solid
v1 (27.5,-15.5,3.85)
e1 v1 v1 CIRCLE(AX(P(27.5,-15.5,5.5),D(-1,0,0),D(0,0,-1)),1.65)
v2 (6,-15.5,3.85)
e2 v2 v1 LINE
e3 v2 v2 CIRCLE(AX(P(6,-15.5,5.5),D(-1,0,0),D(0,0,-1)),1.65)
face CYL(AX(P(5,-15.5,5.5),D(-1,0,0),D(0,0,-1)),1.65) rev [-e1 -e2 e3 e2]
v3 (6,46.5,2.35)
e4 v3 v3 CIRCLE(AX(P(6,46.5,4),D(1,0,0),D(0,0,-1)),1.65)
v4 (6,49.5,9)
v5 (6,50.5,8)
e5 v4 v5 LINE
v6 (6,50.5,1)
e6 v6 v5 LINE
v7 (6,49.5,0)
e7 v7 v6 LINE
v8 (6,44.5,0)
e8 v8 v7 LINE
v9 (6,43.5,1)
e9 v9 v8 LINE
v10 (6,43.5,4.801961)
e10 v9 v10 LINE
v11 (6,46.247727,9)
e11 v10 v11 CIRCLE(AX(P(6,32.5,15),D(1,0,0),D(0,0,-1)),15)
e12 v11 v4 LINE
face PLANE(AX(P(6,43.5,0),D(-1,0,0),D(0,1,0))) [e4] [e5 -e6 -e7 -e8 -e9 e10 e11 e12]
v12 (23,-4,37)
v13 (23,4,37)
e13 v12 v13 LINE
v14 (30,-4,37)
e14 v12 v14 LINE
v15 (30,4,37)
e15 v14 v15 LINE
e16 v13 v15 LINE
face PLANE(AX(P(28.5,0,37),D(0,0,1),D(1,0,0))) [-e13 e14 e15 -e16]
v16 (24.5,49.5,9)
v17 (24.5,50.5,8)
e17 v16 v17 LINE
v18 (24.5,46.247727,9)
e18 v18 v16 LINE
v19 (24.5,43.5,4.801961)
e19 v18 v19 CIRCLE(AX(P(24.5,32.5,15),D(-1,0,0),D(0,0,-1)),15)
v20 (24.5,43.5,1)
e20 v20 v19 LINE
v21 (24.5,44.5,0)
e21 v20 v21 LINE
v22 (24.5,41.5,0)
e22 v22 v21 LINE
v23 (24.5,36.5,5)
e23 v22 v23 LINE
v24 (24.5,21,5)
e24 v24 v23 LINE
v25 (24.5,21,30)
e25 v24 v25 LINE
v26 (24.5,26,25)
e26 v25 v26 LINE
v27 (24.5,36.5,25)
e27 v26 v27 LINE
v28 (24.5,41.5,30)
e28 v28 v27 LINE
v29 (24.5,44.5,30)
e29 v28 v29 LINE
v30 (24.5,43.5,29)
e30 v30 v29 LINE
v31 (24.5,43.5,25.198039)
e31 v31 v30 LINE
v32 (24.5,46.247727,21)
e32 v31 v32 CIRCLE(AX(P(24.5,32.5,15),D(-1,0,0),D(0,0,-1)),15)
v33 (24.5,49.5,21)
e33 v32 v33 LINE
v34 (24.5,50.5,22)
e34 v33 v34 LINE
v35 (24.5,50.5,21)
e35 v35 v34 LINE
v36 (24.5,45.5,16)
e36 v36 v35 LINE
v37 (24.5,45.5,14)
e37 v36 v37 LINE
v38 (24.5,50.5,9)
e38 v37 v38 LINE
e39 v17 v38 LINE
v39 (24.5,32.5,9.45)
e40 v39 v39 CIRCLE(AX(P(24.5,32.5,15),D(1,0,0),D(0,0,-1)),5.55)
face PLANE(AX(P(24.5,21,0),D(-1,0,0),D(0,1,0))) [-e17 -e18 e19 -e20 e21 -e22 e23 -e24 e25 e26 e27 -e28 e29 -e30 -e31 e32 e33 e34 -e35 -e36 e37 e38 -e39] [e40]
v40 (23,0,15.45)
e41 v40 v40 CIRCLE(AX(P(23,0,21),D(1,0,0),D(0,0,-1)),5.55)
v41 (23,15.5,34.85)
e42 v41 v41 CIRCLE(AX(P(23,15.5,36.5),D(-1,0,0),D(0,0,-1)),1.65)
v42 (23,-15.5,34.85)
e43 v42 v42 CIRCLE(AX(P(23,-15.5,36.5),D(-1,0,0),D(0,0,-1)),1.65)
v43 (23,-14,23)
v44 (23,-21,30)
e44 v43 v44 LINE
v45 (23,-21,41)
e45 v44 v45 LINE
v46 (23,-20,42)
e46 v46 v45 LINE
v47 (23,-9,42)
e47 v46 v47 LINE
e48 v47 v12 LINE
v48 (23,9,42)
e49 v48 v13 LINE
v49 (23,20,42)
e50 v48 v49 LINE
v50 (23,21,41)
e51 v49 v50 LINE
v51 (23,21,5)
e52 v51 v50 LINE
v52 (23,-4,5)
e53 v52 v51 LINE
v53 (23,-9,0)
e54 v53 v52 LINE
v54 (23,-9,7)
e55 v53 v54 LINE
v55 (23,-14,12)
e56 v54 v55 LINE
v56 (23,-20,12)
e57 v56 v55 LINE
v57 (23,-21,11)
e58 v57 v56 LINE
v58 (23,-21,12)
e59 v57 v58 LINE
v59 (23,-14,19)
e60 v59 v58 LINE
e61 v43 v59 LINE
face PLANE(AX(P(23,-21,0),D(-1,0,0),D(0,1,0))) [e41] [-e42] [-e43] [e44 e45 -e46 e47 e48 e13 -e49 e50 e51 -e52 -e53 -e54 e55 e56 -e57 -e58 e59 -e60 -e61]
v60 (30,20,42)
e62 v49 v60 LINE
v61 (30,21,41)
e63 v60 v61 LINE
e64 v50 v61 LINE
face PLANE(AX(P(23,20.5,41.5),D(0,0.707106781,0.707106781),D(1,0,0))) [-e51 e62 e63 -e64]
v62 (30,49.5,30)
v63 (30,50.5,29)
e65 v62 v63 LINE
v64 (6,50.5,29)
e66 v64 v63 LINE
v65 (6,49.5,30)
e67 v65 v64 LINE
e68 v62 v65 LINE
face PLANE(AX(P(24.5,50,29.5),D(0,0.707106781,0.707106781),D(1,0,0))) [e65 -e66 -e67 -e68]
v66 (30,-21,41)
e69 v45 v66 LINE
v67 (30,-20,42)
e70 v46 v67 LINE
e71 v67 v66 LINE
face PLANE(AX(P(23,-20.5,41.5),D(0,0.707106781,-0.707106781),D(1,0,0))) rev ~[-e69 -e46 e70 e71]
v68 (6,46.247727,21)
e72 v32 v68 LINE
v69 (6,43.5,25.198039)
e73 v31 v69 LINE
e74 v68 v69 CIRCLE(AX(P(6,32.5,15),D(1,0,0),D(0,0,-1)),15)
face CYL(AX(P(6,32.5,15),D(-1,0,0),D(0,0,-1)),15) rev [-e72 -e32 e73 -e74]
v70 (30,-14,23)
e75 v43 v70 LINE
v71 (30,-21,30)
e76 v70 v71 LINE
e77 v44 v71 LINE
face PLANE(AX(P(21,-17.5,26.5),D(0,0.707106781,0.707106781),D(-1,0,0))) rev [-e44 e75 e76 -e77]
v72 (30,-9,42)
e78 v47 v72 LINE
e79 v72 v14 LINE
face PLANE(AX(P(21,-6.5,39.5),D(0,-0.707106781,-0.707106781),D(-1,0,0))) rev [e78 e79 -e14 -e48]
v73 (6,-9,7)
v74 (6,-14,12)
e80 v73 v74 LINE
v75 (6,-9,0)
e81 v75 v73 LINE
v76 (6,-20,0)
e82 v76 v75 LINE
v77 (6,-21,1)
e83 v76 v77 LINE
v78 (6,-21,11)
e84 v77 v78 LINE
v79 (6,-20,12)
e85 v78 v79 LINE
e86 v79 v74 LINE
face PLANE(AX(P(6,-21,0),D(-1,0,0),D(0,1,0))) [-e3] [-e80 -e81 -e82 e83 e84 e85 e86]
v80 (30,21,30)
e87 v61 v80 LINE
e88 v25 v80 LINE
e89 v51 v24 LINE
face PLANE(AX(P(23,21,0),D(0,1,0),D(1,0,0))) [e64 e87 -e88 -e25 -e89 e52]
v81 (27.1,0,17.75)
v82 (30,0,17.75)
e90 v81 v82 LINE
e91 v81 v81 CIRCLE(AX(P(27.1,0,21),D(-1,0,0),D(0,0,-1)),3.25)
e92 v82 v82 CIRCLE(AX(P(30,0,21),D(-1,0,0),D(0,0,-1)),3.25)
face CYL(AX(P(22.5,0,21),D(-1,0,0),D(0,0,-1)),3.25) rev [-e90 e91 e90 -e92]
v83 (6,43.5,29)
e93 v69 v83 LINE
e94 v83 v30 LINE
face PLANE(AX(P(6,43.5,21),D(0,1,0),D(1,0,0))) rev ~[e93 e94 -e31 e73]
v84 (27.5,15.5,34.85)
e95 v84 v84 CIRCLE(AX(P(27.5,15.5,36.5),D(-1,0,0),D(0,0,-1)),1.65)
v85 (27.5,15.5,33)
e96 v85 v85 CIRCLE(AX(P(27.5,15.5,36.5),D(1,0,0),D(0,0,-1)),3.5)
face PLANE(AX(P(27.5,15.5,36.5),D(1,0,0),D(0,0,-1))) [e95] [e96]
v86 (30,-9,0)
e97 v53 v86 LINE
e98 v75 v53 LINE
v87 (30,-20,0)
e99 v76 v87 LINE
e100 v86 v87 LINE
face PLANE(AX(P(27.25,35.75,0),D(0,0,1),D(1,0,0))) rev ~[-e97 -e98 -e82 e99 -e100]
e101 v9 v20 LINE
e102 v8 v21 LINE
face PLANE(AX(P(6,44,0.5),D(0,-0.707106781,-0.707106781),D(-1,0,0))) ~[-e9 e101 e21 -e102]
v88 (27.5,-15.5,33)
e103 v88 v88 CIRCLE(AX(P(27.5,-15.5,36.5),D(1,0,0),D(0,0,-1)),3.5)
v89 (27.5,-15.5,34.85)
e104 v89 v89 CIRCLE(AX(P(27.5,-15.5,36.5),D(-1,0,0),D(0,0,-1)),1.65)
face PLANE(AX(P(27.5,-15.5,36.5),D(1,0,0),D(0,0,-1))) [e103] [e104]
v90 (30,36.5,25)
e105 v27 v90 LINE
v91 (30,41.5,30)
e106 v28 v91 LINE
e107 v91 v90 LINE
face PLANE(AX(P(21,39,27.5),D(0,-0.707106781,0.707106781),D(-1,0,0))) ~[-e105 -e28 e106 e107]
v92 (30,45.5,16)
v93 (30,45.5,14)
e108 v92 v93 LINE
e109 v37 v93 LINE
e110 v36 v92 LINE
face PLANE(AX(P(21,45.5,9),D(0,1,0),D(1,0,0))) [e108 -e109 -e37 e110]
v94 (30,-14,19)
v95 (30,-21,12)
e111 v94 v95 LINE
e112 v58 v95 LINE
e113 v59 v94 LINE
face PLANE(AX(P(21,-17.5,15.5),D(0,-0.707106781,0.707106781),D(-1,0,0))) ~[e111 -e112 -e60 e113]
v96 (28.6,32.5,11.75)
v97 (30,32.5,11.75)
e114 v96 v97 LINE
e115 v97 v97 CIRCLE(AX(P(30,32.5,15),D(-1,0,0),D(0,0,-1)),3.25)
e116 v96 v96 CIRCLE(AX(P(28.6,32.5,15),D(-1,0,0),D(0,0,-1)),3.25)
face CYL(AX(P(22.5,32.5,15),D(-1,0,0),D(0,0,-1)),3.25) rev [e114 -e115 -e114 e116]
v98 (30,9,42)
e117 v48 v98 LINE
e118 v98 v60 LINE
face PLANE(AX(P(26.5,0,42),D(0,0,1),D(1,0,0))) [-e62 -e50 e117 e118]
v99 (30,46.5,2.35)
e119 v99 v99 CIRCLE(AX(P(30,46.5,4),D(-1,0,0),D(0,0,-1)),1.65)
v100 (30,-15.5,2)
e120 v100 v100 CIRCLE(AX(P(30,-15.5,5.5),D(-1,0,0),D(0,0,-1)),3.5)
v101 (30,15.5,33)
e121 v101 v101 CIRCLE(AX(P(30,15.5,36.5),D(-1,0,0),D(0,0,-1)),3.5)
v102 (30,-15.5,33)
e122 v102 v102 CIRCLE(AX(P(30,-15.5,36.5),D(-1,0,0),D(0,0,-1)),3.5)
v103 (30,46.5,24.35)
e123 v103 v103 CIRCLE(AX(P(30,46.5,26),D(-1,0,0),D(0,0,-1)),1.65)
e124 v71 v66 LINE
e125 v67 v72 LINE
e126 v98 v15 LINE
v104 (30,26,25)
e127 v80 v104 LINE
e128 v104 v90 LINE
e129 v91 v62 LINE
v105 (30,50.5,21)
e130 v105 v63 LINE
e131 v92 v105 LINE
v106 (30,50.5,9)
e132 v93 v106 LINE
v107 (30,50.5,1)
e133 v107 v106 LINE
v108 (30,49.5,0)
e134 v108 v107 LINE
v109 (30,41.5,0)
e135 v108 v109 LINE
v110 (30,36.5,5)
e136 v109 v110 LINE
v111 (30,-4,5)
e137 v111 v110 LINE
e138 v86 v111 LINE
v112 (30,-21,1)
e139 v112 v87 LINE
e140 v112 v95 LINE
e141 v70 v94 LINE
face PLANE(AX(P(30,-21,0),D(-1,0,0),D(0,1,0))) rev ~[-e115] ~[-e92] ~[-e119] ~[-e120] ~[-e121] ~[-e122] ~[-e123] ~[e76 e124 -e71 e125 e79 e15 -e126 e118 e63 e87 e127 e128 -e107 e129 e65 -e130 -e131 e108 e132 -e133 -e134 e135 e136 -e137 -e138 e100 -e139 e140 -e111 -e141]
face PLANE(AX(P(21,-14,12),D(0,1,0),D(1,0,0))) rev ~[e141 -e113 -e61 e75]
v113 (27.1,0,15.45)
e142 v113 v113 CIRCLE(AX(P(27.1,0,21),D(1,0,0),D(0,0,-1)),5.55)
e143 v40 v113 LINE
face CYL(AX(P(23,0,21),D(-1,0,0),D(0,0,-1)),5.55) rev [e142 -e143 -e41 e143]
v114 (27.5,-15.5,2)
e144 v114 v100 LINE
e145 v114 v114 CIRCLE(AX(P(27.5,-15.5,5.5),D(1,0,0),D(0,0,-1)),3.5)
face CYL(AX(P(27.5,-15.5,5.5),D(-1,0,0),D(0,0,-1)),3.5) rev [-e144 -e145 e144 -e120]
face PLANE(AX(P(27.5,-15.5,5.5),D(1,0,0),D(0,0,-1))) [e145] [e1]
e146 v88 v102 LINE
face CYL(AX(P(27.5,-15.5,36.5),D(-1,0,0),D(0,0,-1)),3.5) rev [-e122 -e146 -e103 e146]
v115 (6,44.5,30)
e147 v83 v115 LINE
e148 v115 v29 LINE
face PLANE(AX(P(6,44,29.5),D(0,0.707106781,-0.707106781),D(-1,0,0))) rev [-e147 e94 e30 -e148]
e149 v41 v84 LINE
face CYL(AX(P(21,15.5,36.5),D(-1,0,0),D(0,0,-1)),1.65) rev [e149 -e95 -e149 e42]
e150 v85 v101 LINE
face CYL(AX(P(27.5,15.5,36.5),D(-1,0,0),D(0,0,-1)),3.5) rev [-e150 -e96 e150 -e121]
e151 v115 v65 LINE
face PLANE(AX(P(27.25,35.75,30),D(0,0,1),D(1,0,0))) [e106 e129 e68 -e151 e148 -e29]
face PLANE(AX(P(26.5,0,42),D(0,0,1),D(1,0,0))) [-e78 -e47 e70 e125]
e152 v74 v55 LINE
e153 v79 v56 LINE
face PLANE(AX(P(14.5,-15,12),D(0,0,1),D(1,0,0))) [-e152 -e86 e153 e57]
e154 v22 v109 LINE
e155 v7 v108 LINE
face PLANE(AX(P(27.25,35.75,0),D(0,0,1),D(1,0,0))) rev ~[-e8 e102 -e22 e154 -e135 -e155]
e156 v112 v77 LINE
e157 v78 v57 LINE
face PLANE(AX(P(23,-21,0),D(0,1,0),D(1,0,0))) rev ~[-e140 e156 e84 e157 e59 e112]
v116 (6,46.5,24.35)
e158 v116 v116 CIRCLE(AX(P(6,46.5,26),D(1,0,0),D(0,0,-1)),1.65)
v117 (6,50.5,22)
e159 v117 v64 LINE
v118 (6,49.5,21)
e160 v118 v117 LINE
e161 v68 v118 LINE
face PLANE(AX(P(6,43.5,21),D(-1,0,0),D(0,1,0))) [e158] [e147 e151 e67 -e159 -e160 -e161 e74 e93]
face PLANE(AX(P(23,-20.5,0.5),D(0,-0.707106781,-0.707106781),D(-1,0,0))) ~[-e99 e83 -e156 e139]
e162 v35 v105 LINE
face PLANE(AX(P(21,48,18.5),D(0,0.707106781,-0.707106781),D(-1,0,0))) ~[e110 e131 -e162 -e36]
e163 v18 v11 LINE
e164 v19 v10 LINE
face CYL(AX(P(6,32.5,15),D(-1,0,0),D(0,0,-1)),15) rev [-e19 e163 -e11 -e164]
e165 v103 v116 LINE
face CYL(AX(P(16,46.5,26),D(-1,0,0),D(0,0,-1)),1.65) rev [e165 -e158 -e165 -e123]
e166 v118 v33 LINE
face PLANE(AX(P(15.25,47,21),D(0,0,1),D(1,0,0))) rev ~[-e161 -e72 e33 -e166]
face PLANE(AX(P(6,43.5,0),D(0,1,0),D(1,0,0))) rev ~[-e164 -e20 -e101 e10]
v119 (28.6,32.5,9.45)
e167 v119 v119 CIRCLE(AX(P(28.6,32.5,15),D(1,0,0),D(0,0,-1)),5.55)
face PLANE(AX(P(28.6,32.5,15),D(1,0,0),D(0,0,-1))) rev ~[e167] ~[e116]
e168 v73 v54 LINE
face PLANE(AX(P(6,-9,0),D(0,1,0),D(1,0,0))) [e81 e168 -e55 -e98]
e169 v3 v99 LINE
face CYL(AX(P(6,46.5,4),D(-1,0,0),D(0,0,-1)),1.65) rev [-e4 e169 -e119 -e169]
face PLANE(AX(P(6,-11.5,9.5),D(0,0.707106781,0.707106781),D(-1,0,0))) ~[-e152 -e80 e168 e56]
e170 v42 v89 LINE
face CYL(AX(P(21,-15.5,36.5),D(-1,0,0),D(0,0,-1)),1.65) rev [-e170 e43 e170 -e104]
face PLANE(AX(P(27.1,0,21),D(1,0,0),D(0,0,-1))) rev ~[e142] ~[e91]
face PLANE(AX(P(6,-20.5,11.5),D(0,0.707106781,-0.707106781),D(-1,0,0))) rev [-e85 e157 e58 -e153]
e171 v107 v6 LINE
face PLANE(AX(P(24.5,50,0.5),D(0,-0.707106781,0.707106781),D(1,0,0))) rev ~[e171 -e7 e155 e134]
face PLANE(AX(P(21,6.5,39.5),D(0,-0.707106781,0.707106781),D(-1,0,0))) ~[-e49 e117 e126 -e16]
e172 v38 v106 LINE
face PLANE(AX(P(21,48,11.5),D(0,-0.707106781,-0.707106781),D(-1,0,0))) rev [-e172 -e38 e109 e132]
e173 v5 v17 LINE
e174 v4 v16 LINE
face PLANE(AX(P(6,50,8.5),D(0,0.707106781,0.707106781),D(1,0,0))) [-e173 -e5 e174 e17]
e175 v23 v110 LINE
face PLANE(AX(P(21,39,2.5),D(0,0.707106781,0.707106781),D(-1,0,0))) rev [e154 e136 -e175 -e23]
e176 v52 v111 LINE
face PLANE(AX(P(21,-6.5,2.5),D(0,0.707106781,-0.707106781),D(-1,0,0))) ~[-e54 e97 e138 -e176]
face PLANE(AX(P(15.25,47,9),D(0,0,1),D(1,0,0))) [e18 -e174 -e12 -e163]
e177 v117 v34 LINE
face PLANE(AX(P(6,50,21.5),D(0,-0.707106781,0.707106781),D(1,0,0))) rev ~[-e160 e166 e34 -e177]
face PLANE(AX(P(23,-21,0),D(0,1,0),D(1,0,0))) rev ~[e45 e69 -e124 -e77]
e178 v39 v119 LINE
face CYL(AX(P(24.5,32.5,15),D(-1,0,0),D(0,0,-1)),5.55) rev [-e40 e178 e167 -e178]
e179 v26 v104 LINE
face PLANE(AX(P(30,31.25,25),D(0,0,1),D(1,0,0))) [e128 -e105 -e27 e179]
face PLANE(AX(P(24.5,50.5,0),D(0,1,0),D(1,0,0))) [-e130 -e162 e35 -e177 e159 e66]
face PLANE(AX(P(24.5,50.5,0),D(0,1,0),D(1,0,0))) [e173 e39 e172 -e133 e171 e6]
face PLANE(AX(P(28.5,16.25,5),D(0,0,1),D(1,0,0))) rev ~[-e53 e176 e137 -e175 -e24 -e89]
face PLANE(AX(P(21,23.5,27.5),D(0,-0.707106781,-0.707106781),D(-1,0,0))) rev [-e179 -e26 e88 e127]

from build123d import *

# Parameters (mm, degrees)
CYLINDER011034_R         = 3.25
CYLINDER011034_DEPTH     = 10
CYLINDER011035_R         = 3.25
CYLINDER011035_DEPTH     = 10
CYLINDER011027_R         = 1.65
CYLINDER011027_DEPTH     = 31
CYLINDER011024_R         = 1.65
CYLINDER011024_DEPTH     = 10
CYLINDER011023_R         = 1.65
CYLINDER011023_DEPTH     = 10
CYLINDER011028_R         = 1.65
CYLINDER011028_DEPTH     = 20
CYLINDER011029_R         = 1.65
CYLINDER011029_DEPTH     = 20
CYLINDER011033_R         = 5.55
CYLINDER011033_DEPTH     = 4.1
CYLINDER011032_R         = 5.55
CYLINDER011032_DEPTH     = 4.1
CYLINDER011021_R         = 3.5
CYLINDER011021_DEPTH     = 10
CYLINDER011022_R         = 3.5
CYLINDER011022_DEPTH     = 10
CYLINDER011025_R         = 3.5
CYLINDER011025_DEPTH     = 10
CYLINDER011062_R         = 15
CYLINDER011062_DEPTH     = 22
CYLINDER011061_R         = 1.65
CYLINDER011061_DEPTH     = 18
CYLINDER011058_R         = 1.65
CYLINDER011058_DEPTH     = 18
BOX037_W                 = 18.5
BOX037_H                 = 7
BOX037_DEPTH             = 9
BOX038_W                 = 18.5
BOX038_H                 = 7
BOX038_DEPTH             = 9
CHAMFER024015_SIZE       = 1
BOX022_W                 = 15
BOX022_H                 = 50.5
BOX022_DEPTH             = 10
CHAMFER_SIZE             = 5
BOX023_W                 = 15
BOX023_H                 = 18
BOX023_DEPTH             = 10
CHAMFER016_SIZE          = 5
BOX024_W                 = 18
BOX024_H                 = 20.5
BOX024_DEPTH             = 10
CHAMFER024014_SIZE       = 5
BOX020_W                 = 15
BOX020_H                 = 9
BOX020_DEPTH             = 12
CHAMFER018_SIZE          = 5
BOX021_W                 = 10
BOX021_H                 = 10
BOX021_DEPTH             = 18
CHAMFER017_SIZE          = 7
BOX010_W                 = 5.5
BOX010_H                 = 29.5
BOX010_DEPTH             = 30
BOX009_W                 = 7
BOX009_H                 = 42
BOX009_DEPTH             = 42
CHAMFER024018_SIZE       = 1
BOX018_W                 = 17
BOX018_H                 = 12
BOX018_DEPTH             = 12
CHAMFER024016_SIZE       = 5
CHAMFER024017_SIZE       = 1
CHAMFER024034004007_SIZE = 1


with BuildPart() as cylinder011034:
    # Cylinder011034 → Cylinder011034 (new body)
    with BuildSketch(Plane(origin=(22.5, 32.5, 15), x_dir=(0, 0, -1), z_dir=(1, 0, 0))):
        Circle(CYLINDER011034_R)
    extrude(amount=CYLINDER011034_DEPTH)


with BuildPart() as fusion006002011004053008:
    # Cylinder011035 → Cylinder011035 (new body)
    with BuildSketch(Plane(origin=(22.5, 0, 21), x_dir=(0, 0, -1), z_dir=(1, 0, 0))):
        Circle(CYLINDER011035_R)
    extrude(amount=CYLINDER011035_DEPTH)

    # Fusion006002011004053008: union Cylinder011034
    add(cylinder011034.part)


with BuildPart() as cylinder011027:
    # Cylinder011027 → Cylinder011027 (new body)
    with BuildSketch(Plane(origin=(5, -15.5, 5.5), x_dir=(0, 0, -1), z_dir=(1, 0, 0))):
        Circle(CYLINDER011027_R)
    extrude(amount=CYLINDER011027_DEPTH)


with BuildPart() as cylinder011024:
    # Cylinder011024 → Cylinder011024 (new body)
    with BuildSketch(Plane(origin=(21, 15.5, 36.5), x_dir=(0, 0, -1), z_dir=(1, 0, 0))):
        Circle(CYLINDER011024_R)
    extrude(amount=CYLINDER011024_DEPTH)


with BuildPart() as fusion006002011004010:
    # Cylinder011023 → Cylinder011023 (new body)
    with BuildSketch(Plane(origin=(21, -15.5, 36.5), x_dir=(0, 0, -1), z_dir=(1, 0, 0))):
        Circle(CYLINDER011023_R)
    extrude(amount=CYLINDER011023_DEPTH)

    # Fusion006002011004010: union Cylinder011027, Cylinder011024
    add(cylinder011027.part)
    add(cylinder011024.part)


with BuildPart() as cylinder011028:
    # Cylinder011028 → Cylinder011028 (new body)
    with BuildSketch(Plane(origin=(-24, 45, 26), x_dir=(0, 0, -1), z_dir=(1, 0, 0))):
        Circle(CYLINDER011028_R)
    extrude(amount=CYLINDER011028_DEPTH)


with BuildPart() as fusion006002011004013:
    # Cylinder011029 → Cylinder011029 (new body)
    with BuildSketch(Plane(origin=(-24, 45, 4), x_dir=(0, 0, -1), z_dir=(1, 0, 0))):
        Circle(CYLINDER011029_R)
    extrude(amount=CYLINDER011029_DEPTH)

    # Fusion006002011004013: union Cylinder011028
    add(cylinder011028.part)


with BuildPart() as fusion006002011004013_1:
    # Fusion006002011004013 placement: moved
    add(fusion006002011004013.part.moved(Location((40, 1.5, 0))))


with BuildPart() as cylinder011033:
    # Cylinder011033 → Cylinder011033 (new body)
    with BuildSketch(Plane(origin=(24.5, 32.5, 15), x_dir=(0, 0, -1), z_dir=(1, 0, 0))):
        Circle(CYLINDER011033_R)
    extrude(amount=CYLINDER011033_DEPTH)


with BuildPart() as fusion006002011004053017:
    # Cylinder011032 → Cylinder011032 (new body)
    with BuildSketch(Plane(origin=(23, 0, 21), x_dir=(0, 0, -1), z_dir=(1, 0, 0))):
        Circle(CYLINDER011032_R)
    extrude(amount=CYLINDER011032_DEPTH)

    # Fusion006002011004053017: union Cylinder011033
    add(cylinder011033.part)


with BuildPart() as cylinder011021:
    # Cylinder011021 → Cylinder011021 (new body)
    with BuildSketch(Plane(origin=(21, 15.5, 36.5), x_dir=(0, 0, -1), z_dir=(1, 0, 0))):
        Circle(CYLINDER011021_R)
    extrude(amount=CYLINDER011021_DEPTH)


with BuildPart() as cylinder011022:
    # Cylinder011022 → Cylinder011022 (new body)
    with BuildSketch(Plane(origin=(21, -15.5, 36.5), x_dir=(0, 0, -1), z_dir=(1, 0, 0))):
        Circle(CYLINDER011022_R)
    extrude(amount=CYLINDER011022_DEPTH)


with BuildPart() as fusion006002011004053019:
    # Cylinder011025 → Cylinder011025 (new body)
    with BuildSketch(Plane(origin=(21, -15.5, 5.5), x_dir=(0, 0, -1), z_dir=(1, 0, 0))):
        Circle(CYLINDER011025_R)
    extrude(amount=CYLINDER011025_DEPTH)

    # Fusion006002011004012: union Cylinder011021, Cylinder011022
    add(cylinder011021.part)
    add(cylinder011022.part)


with BuildPart() as fusion006002011004053019_1:
    # Fusion006002011004012 placement: moved
    add(fusion006002011004053019.part.moved(Location((6.5, 0, 0))))

    # Fusion006002011004053019: union Fusion006002011004053008, Fusion006002011004010, Fusion006002011004013, Fusion006002011004053017
    add(fusion006002011004053008.part)
    add(fusion006002011004010.part)
    add(fusion006002011004013_1.part)
    add(fusion006002011004053017.part)


with BuildPart() as cylinder011062:
    # Cylinder011062 → Cylinder011062 (new body)
    with BuildSketch(Plane(origin=(6, 32.5, 15), x_dir=(0, 0, -1), z_dir=(1, 0, 0))):
        Circle(CYLINDER011062_R)
    extrude(amount=CYLINDER011062_DEPTH)


with BuildPart() as cylinder011061:
    # Cylinder011061 → Cylinder011061 (new body)
    with BuildSketch(Plane(origin=(6, 45, 26), x_dir=(0, 0, -1), z_dir=(1, 0, 0))):
        Circle(CYLINDER011061_R)
    extrude(amount=CYLINDER011061_DEPTH)


with BuildPart() as fusion006002011004052:
    # Cylinder011058 → Cylinder011058 (new body)
    with BuildSketch(Plane(origin=(6, 45, 4), x_dir=(0, 0, -1), z_dir=(1, 0, 0))):
        Circle(CYLINDER011058_R)
    extrude(amount=CYLINDER011058_DEPTH)

    # Fusion006002011004052: union Cylinder011061
    add(cylinder011061.part)


with BuildPart() as fusion006002011004052_1:
    # Fusion006002011004052 placement: moved
    add(fusion006002011004052.part.moved(Location((0, 1.5, 0))))


with BuildPart() as cube036:
    # Box037 → Box037 (new body)
    with BuildSketch(Plane(origin=(6, 43.5, 0), x_dir=(1, 0, 0), z_dir=(0, 0, 1))):
        with Locations((9.25, 3.5)):
            Rectangle(BOX037_W, BOX037_H)
    extrude(amount=BOX037_DEPTH)


with BuildPart() as cut001063008009007:
    # Box038 → Box038 (new body)
    with BuildSketch(Plane(origin=(6, 43.5, 21), x_dir=(1, 0, 0), z_dir=(0, 0, 1))):
        with Locations((9.25, 3.5)):
            Rectangle(BOX038_W, BOX038_H)
    extrude(amount=BOX038_DEPTH)

    # Fusion006002011004053015: union Cube036
    add(cube036.part)

    # Cut001063008010: cut Fusion006002011004052
    add(fusion006002011004052_1.part, mode=Mode.SUBTRACT)

    # Chamfer024015
    chamfer024015_edges = [cut001063008009007.edges().sort_by_distance(p)[0] for p in [
        (15.25, 43.5, 30),
        (15.25, 50.5, 30),
        (15.25, 50.5, 21),
        (15.25, 43.5, 0),
        (15.25, 50.5, 9),
        (15.25, 50.5, 0),
    ]]
    chamfer(chamfer024015_edges, length=CHAMFER024015_SIZE)

    # Cut001063008009007: cut Cylinder011062
    add(cylinder011062.part, mode=Mode.SUBTRACT)


with BuildPart() as chamfer_body:
    # Box022 → Box022 (new body)
    with BuildSketch(Plane(origin=(21, -9, -5), x_dir=(1, 0, 0), z_dir=(0, 0, 1))):
        with Locations((7.5, 25.25)):
            Rectangle(BOX022_W, BOX022_H)
    extrude(amount=BOX022_DEPTH)

    # Chamfer
    chamfer_edges = [chamfer_body.edges().sort_by_distance(p)[0] for p in [
        (28.5, -9, 5),
        (28.5, 41.5, 5),
    ]]
    chamfer(chamfer_edges, length=CHAMFER_SIZE)


with BuildPart() as chamfer016:
    # Box023 → Box023 (new body)
    with BuildSketch(Plane(origin=(21, -9, 37), x_dir=(1, 0, 0), z_dir=(0, 0, 1))):
        with Locations((7.5, 9)):
            Rectangle(BOX023_W, BOX023_H)
    extrude(amount=BOX023_DEPTH)

    # Chamfer016
    chamfer016_edges = [chamfer016.edges().sort_by_distance(p)[0] for p in [
        (28.5, -9, 37),
        (28.5, 9, 37),
    ]]
    chamfer(chamfer016_edges, length=CHAMFER016_SIZE)


with BuildPart() as chamfer024014:
    # Box024 → Box024 (new body)
    with BuildSketch(Plane(origin=(21, 21, 25), x_dir=(1, 0, 0), z_dir=(0, 0, 1))):
        with Locations((9, 10.25)):
            Rectangle(BOX024_W, BOX024_H)
    extrude(amount=BOX024_DEPTH)

    # Chamfer024014
    chamfer024014_edges = [chamfer024014.edges().sort_by_distance(p)[0] for p in [
        (30, 21, 25),
        (30, 41.5, 25),
    ]]
    chamfer(chamfer024014_edges, length=CHAMFER024014_SIZE)


with BuildPart() as chamfer018:
    # Box020 → Box020 (new body)
    with BuildSketch(Plane(origin=(21, 44, 9), x_dir=(1, 0, 0), z_dir=(0, 0, 1))):
        with Locations((7.5, 4.5)):
            Rectangle(BOX020_W, BOX020_H)
    extrude(amount=BOX020_DEPTH)

    # Chamfer018
    chamfer018_edges = [chamfer018.edges().sort_by_distance(p)[0] for p in [
        (28.5, 44, 9),
        (28.5, 44, 21),
    ]]
    chamfer(chamfer018_edges, length=CHAMFER018_SIZE)


with BuildPart() as chamfer018_1:
    # Chamfer018 placement: moved
    add(chamfer018.part.moved(Location((0, 1.5, 0))))


with BuildPart() as fusion006002011004053007:
    # Box021 → Box021 (new body)
    with BuildSketch(Plane(origin=(21, -24, 12), x_dir=(1, 0, 0), z_dir=(0, 0, 1))):
        with Locations((5, 5)):
            Rectangle(BOX021_W, BOX021_H)
    extrude(amount=BOX021_DEPTH)

    # Chamfer017
    chamfer017_edges = [fusion006002011004053007.edges().sort_by_distance(p)[0] for p in [
        (26, -14, 12),
        (26, -14, 30),
    ]]
    chamfer(chamfer017_edges, length=CHAMFER017_SIZE)

    # Fusion006002011004053007: union Chamfer body, Chamfer016, Chamfer024014, Chamfer018
    add(chamfer_body.part)
    add(chamfer016.part)
    add(chamfer024014.part)
    add(chamfer018_1.part)


with BuildPart() as cube009:
    # Box010 → Box010 (new body)
    with BuildSketch(Plane(origin=(24.5, 21, 0), x_dir=(1, 0, 0), z_dir=(0, 0, 1))):
        with Locations((2.75, 14.75)):
            Rectangle(BOX010_W, BOX010_H)
    extrude(amount=BOX010_DEPTH)


with BuildPart() as cut001063008012:
    # Box009 → Box009 (new body)
    with BuildSketch(Plane(origin=(23, -21, 0), x_dir=(1, 0, 0), z_dir=(0, 0, 1))):
        with Locations((3.5, 21)):
            Rectangle(BOX009_W, BOX009_H)
    extrude(amount=BOX009_DEPTH)

    # Fusion006002011004053016: union Cube009
    add(cube009.part)

    # Chamfer024018
    chamfer024018_edges = [cut001063008012.edges().sort_by_distance(p)[0] for p in [
        (26.5, -21, 0),
        (26.5, -21, 42),
        (26.5, 21, 42),
        (27.25, 50.5, 30),
        (27.25, 50.5, 0),
    ]]
    chamfer(chamfer024018_edges, length=CHAMFER024018_SIZE)

    # Cut001063008012: cut Fusion006002011004053007
    add(fusion006002011004053007.part, mode=Mode.SUBTRACT)


with BuildPart() as front_basic:
    # Box018 → Box018 (new body)
    with BuildSketch(Plane(origin=(6, -21, 0), x_dir=(1, 0, 0), z_dir=(0, 0, 1))):
        with Locations((8.5, 6)):
            Rectangle(BOX018_W, BOX018_H)
    extrude(amount=BOX018_DEPTH)

    # Chamfer024016
    chamfer024016_edges = [front_basic.edges().sort_by_distance(p)[0] for p in [
        (14.5, -9, 12),
    ]]
    chamfer(chamfer024016_edges, length=CHAMFER024016_SIZE)

    # Chamfer024017
    chamfer024017_edges = [front_basic.edges().sort_by_distance(p)[0] for p in [
        (14.5, -21, 0),
    ]]
    chamfer(chamfer024017_edges, length=CHAMFER024017_SIZE)

    # Chamfer024034004007
    chamfer024034004007_edges = [front_basic.edges().sort_by_distance(p)[0] for p in [
        (14.5, -21, 12),
    ]]
    chamfer(chamfer024034004007_edges, length=CHAMFER024034004007_SIZE)

    # Fusion006002011004053029: union Cut001063008009007, Cut001063008012
    add(cut001063008009007.part)
    add(cut001063008012.part)

    # Cut001063008009006002: cut Fusion006002011004053019
    add(fusion006002011004053019_1.part, mode=Mode.SUBTRACT)


solid = front_basic.part
